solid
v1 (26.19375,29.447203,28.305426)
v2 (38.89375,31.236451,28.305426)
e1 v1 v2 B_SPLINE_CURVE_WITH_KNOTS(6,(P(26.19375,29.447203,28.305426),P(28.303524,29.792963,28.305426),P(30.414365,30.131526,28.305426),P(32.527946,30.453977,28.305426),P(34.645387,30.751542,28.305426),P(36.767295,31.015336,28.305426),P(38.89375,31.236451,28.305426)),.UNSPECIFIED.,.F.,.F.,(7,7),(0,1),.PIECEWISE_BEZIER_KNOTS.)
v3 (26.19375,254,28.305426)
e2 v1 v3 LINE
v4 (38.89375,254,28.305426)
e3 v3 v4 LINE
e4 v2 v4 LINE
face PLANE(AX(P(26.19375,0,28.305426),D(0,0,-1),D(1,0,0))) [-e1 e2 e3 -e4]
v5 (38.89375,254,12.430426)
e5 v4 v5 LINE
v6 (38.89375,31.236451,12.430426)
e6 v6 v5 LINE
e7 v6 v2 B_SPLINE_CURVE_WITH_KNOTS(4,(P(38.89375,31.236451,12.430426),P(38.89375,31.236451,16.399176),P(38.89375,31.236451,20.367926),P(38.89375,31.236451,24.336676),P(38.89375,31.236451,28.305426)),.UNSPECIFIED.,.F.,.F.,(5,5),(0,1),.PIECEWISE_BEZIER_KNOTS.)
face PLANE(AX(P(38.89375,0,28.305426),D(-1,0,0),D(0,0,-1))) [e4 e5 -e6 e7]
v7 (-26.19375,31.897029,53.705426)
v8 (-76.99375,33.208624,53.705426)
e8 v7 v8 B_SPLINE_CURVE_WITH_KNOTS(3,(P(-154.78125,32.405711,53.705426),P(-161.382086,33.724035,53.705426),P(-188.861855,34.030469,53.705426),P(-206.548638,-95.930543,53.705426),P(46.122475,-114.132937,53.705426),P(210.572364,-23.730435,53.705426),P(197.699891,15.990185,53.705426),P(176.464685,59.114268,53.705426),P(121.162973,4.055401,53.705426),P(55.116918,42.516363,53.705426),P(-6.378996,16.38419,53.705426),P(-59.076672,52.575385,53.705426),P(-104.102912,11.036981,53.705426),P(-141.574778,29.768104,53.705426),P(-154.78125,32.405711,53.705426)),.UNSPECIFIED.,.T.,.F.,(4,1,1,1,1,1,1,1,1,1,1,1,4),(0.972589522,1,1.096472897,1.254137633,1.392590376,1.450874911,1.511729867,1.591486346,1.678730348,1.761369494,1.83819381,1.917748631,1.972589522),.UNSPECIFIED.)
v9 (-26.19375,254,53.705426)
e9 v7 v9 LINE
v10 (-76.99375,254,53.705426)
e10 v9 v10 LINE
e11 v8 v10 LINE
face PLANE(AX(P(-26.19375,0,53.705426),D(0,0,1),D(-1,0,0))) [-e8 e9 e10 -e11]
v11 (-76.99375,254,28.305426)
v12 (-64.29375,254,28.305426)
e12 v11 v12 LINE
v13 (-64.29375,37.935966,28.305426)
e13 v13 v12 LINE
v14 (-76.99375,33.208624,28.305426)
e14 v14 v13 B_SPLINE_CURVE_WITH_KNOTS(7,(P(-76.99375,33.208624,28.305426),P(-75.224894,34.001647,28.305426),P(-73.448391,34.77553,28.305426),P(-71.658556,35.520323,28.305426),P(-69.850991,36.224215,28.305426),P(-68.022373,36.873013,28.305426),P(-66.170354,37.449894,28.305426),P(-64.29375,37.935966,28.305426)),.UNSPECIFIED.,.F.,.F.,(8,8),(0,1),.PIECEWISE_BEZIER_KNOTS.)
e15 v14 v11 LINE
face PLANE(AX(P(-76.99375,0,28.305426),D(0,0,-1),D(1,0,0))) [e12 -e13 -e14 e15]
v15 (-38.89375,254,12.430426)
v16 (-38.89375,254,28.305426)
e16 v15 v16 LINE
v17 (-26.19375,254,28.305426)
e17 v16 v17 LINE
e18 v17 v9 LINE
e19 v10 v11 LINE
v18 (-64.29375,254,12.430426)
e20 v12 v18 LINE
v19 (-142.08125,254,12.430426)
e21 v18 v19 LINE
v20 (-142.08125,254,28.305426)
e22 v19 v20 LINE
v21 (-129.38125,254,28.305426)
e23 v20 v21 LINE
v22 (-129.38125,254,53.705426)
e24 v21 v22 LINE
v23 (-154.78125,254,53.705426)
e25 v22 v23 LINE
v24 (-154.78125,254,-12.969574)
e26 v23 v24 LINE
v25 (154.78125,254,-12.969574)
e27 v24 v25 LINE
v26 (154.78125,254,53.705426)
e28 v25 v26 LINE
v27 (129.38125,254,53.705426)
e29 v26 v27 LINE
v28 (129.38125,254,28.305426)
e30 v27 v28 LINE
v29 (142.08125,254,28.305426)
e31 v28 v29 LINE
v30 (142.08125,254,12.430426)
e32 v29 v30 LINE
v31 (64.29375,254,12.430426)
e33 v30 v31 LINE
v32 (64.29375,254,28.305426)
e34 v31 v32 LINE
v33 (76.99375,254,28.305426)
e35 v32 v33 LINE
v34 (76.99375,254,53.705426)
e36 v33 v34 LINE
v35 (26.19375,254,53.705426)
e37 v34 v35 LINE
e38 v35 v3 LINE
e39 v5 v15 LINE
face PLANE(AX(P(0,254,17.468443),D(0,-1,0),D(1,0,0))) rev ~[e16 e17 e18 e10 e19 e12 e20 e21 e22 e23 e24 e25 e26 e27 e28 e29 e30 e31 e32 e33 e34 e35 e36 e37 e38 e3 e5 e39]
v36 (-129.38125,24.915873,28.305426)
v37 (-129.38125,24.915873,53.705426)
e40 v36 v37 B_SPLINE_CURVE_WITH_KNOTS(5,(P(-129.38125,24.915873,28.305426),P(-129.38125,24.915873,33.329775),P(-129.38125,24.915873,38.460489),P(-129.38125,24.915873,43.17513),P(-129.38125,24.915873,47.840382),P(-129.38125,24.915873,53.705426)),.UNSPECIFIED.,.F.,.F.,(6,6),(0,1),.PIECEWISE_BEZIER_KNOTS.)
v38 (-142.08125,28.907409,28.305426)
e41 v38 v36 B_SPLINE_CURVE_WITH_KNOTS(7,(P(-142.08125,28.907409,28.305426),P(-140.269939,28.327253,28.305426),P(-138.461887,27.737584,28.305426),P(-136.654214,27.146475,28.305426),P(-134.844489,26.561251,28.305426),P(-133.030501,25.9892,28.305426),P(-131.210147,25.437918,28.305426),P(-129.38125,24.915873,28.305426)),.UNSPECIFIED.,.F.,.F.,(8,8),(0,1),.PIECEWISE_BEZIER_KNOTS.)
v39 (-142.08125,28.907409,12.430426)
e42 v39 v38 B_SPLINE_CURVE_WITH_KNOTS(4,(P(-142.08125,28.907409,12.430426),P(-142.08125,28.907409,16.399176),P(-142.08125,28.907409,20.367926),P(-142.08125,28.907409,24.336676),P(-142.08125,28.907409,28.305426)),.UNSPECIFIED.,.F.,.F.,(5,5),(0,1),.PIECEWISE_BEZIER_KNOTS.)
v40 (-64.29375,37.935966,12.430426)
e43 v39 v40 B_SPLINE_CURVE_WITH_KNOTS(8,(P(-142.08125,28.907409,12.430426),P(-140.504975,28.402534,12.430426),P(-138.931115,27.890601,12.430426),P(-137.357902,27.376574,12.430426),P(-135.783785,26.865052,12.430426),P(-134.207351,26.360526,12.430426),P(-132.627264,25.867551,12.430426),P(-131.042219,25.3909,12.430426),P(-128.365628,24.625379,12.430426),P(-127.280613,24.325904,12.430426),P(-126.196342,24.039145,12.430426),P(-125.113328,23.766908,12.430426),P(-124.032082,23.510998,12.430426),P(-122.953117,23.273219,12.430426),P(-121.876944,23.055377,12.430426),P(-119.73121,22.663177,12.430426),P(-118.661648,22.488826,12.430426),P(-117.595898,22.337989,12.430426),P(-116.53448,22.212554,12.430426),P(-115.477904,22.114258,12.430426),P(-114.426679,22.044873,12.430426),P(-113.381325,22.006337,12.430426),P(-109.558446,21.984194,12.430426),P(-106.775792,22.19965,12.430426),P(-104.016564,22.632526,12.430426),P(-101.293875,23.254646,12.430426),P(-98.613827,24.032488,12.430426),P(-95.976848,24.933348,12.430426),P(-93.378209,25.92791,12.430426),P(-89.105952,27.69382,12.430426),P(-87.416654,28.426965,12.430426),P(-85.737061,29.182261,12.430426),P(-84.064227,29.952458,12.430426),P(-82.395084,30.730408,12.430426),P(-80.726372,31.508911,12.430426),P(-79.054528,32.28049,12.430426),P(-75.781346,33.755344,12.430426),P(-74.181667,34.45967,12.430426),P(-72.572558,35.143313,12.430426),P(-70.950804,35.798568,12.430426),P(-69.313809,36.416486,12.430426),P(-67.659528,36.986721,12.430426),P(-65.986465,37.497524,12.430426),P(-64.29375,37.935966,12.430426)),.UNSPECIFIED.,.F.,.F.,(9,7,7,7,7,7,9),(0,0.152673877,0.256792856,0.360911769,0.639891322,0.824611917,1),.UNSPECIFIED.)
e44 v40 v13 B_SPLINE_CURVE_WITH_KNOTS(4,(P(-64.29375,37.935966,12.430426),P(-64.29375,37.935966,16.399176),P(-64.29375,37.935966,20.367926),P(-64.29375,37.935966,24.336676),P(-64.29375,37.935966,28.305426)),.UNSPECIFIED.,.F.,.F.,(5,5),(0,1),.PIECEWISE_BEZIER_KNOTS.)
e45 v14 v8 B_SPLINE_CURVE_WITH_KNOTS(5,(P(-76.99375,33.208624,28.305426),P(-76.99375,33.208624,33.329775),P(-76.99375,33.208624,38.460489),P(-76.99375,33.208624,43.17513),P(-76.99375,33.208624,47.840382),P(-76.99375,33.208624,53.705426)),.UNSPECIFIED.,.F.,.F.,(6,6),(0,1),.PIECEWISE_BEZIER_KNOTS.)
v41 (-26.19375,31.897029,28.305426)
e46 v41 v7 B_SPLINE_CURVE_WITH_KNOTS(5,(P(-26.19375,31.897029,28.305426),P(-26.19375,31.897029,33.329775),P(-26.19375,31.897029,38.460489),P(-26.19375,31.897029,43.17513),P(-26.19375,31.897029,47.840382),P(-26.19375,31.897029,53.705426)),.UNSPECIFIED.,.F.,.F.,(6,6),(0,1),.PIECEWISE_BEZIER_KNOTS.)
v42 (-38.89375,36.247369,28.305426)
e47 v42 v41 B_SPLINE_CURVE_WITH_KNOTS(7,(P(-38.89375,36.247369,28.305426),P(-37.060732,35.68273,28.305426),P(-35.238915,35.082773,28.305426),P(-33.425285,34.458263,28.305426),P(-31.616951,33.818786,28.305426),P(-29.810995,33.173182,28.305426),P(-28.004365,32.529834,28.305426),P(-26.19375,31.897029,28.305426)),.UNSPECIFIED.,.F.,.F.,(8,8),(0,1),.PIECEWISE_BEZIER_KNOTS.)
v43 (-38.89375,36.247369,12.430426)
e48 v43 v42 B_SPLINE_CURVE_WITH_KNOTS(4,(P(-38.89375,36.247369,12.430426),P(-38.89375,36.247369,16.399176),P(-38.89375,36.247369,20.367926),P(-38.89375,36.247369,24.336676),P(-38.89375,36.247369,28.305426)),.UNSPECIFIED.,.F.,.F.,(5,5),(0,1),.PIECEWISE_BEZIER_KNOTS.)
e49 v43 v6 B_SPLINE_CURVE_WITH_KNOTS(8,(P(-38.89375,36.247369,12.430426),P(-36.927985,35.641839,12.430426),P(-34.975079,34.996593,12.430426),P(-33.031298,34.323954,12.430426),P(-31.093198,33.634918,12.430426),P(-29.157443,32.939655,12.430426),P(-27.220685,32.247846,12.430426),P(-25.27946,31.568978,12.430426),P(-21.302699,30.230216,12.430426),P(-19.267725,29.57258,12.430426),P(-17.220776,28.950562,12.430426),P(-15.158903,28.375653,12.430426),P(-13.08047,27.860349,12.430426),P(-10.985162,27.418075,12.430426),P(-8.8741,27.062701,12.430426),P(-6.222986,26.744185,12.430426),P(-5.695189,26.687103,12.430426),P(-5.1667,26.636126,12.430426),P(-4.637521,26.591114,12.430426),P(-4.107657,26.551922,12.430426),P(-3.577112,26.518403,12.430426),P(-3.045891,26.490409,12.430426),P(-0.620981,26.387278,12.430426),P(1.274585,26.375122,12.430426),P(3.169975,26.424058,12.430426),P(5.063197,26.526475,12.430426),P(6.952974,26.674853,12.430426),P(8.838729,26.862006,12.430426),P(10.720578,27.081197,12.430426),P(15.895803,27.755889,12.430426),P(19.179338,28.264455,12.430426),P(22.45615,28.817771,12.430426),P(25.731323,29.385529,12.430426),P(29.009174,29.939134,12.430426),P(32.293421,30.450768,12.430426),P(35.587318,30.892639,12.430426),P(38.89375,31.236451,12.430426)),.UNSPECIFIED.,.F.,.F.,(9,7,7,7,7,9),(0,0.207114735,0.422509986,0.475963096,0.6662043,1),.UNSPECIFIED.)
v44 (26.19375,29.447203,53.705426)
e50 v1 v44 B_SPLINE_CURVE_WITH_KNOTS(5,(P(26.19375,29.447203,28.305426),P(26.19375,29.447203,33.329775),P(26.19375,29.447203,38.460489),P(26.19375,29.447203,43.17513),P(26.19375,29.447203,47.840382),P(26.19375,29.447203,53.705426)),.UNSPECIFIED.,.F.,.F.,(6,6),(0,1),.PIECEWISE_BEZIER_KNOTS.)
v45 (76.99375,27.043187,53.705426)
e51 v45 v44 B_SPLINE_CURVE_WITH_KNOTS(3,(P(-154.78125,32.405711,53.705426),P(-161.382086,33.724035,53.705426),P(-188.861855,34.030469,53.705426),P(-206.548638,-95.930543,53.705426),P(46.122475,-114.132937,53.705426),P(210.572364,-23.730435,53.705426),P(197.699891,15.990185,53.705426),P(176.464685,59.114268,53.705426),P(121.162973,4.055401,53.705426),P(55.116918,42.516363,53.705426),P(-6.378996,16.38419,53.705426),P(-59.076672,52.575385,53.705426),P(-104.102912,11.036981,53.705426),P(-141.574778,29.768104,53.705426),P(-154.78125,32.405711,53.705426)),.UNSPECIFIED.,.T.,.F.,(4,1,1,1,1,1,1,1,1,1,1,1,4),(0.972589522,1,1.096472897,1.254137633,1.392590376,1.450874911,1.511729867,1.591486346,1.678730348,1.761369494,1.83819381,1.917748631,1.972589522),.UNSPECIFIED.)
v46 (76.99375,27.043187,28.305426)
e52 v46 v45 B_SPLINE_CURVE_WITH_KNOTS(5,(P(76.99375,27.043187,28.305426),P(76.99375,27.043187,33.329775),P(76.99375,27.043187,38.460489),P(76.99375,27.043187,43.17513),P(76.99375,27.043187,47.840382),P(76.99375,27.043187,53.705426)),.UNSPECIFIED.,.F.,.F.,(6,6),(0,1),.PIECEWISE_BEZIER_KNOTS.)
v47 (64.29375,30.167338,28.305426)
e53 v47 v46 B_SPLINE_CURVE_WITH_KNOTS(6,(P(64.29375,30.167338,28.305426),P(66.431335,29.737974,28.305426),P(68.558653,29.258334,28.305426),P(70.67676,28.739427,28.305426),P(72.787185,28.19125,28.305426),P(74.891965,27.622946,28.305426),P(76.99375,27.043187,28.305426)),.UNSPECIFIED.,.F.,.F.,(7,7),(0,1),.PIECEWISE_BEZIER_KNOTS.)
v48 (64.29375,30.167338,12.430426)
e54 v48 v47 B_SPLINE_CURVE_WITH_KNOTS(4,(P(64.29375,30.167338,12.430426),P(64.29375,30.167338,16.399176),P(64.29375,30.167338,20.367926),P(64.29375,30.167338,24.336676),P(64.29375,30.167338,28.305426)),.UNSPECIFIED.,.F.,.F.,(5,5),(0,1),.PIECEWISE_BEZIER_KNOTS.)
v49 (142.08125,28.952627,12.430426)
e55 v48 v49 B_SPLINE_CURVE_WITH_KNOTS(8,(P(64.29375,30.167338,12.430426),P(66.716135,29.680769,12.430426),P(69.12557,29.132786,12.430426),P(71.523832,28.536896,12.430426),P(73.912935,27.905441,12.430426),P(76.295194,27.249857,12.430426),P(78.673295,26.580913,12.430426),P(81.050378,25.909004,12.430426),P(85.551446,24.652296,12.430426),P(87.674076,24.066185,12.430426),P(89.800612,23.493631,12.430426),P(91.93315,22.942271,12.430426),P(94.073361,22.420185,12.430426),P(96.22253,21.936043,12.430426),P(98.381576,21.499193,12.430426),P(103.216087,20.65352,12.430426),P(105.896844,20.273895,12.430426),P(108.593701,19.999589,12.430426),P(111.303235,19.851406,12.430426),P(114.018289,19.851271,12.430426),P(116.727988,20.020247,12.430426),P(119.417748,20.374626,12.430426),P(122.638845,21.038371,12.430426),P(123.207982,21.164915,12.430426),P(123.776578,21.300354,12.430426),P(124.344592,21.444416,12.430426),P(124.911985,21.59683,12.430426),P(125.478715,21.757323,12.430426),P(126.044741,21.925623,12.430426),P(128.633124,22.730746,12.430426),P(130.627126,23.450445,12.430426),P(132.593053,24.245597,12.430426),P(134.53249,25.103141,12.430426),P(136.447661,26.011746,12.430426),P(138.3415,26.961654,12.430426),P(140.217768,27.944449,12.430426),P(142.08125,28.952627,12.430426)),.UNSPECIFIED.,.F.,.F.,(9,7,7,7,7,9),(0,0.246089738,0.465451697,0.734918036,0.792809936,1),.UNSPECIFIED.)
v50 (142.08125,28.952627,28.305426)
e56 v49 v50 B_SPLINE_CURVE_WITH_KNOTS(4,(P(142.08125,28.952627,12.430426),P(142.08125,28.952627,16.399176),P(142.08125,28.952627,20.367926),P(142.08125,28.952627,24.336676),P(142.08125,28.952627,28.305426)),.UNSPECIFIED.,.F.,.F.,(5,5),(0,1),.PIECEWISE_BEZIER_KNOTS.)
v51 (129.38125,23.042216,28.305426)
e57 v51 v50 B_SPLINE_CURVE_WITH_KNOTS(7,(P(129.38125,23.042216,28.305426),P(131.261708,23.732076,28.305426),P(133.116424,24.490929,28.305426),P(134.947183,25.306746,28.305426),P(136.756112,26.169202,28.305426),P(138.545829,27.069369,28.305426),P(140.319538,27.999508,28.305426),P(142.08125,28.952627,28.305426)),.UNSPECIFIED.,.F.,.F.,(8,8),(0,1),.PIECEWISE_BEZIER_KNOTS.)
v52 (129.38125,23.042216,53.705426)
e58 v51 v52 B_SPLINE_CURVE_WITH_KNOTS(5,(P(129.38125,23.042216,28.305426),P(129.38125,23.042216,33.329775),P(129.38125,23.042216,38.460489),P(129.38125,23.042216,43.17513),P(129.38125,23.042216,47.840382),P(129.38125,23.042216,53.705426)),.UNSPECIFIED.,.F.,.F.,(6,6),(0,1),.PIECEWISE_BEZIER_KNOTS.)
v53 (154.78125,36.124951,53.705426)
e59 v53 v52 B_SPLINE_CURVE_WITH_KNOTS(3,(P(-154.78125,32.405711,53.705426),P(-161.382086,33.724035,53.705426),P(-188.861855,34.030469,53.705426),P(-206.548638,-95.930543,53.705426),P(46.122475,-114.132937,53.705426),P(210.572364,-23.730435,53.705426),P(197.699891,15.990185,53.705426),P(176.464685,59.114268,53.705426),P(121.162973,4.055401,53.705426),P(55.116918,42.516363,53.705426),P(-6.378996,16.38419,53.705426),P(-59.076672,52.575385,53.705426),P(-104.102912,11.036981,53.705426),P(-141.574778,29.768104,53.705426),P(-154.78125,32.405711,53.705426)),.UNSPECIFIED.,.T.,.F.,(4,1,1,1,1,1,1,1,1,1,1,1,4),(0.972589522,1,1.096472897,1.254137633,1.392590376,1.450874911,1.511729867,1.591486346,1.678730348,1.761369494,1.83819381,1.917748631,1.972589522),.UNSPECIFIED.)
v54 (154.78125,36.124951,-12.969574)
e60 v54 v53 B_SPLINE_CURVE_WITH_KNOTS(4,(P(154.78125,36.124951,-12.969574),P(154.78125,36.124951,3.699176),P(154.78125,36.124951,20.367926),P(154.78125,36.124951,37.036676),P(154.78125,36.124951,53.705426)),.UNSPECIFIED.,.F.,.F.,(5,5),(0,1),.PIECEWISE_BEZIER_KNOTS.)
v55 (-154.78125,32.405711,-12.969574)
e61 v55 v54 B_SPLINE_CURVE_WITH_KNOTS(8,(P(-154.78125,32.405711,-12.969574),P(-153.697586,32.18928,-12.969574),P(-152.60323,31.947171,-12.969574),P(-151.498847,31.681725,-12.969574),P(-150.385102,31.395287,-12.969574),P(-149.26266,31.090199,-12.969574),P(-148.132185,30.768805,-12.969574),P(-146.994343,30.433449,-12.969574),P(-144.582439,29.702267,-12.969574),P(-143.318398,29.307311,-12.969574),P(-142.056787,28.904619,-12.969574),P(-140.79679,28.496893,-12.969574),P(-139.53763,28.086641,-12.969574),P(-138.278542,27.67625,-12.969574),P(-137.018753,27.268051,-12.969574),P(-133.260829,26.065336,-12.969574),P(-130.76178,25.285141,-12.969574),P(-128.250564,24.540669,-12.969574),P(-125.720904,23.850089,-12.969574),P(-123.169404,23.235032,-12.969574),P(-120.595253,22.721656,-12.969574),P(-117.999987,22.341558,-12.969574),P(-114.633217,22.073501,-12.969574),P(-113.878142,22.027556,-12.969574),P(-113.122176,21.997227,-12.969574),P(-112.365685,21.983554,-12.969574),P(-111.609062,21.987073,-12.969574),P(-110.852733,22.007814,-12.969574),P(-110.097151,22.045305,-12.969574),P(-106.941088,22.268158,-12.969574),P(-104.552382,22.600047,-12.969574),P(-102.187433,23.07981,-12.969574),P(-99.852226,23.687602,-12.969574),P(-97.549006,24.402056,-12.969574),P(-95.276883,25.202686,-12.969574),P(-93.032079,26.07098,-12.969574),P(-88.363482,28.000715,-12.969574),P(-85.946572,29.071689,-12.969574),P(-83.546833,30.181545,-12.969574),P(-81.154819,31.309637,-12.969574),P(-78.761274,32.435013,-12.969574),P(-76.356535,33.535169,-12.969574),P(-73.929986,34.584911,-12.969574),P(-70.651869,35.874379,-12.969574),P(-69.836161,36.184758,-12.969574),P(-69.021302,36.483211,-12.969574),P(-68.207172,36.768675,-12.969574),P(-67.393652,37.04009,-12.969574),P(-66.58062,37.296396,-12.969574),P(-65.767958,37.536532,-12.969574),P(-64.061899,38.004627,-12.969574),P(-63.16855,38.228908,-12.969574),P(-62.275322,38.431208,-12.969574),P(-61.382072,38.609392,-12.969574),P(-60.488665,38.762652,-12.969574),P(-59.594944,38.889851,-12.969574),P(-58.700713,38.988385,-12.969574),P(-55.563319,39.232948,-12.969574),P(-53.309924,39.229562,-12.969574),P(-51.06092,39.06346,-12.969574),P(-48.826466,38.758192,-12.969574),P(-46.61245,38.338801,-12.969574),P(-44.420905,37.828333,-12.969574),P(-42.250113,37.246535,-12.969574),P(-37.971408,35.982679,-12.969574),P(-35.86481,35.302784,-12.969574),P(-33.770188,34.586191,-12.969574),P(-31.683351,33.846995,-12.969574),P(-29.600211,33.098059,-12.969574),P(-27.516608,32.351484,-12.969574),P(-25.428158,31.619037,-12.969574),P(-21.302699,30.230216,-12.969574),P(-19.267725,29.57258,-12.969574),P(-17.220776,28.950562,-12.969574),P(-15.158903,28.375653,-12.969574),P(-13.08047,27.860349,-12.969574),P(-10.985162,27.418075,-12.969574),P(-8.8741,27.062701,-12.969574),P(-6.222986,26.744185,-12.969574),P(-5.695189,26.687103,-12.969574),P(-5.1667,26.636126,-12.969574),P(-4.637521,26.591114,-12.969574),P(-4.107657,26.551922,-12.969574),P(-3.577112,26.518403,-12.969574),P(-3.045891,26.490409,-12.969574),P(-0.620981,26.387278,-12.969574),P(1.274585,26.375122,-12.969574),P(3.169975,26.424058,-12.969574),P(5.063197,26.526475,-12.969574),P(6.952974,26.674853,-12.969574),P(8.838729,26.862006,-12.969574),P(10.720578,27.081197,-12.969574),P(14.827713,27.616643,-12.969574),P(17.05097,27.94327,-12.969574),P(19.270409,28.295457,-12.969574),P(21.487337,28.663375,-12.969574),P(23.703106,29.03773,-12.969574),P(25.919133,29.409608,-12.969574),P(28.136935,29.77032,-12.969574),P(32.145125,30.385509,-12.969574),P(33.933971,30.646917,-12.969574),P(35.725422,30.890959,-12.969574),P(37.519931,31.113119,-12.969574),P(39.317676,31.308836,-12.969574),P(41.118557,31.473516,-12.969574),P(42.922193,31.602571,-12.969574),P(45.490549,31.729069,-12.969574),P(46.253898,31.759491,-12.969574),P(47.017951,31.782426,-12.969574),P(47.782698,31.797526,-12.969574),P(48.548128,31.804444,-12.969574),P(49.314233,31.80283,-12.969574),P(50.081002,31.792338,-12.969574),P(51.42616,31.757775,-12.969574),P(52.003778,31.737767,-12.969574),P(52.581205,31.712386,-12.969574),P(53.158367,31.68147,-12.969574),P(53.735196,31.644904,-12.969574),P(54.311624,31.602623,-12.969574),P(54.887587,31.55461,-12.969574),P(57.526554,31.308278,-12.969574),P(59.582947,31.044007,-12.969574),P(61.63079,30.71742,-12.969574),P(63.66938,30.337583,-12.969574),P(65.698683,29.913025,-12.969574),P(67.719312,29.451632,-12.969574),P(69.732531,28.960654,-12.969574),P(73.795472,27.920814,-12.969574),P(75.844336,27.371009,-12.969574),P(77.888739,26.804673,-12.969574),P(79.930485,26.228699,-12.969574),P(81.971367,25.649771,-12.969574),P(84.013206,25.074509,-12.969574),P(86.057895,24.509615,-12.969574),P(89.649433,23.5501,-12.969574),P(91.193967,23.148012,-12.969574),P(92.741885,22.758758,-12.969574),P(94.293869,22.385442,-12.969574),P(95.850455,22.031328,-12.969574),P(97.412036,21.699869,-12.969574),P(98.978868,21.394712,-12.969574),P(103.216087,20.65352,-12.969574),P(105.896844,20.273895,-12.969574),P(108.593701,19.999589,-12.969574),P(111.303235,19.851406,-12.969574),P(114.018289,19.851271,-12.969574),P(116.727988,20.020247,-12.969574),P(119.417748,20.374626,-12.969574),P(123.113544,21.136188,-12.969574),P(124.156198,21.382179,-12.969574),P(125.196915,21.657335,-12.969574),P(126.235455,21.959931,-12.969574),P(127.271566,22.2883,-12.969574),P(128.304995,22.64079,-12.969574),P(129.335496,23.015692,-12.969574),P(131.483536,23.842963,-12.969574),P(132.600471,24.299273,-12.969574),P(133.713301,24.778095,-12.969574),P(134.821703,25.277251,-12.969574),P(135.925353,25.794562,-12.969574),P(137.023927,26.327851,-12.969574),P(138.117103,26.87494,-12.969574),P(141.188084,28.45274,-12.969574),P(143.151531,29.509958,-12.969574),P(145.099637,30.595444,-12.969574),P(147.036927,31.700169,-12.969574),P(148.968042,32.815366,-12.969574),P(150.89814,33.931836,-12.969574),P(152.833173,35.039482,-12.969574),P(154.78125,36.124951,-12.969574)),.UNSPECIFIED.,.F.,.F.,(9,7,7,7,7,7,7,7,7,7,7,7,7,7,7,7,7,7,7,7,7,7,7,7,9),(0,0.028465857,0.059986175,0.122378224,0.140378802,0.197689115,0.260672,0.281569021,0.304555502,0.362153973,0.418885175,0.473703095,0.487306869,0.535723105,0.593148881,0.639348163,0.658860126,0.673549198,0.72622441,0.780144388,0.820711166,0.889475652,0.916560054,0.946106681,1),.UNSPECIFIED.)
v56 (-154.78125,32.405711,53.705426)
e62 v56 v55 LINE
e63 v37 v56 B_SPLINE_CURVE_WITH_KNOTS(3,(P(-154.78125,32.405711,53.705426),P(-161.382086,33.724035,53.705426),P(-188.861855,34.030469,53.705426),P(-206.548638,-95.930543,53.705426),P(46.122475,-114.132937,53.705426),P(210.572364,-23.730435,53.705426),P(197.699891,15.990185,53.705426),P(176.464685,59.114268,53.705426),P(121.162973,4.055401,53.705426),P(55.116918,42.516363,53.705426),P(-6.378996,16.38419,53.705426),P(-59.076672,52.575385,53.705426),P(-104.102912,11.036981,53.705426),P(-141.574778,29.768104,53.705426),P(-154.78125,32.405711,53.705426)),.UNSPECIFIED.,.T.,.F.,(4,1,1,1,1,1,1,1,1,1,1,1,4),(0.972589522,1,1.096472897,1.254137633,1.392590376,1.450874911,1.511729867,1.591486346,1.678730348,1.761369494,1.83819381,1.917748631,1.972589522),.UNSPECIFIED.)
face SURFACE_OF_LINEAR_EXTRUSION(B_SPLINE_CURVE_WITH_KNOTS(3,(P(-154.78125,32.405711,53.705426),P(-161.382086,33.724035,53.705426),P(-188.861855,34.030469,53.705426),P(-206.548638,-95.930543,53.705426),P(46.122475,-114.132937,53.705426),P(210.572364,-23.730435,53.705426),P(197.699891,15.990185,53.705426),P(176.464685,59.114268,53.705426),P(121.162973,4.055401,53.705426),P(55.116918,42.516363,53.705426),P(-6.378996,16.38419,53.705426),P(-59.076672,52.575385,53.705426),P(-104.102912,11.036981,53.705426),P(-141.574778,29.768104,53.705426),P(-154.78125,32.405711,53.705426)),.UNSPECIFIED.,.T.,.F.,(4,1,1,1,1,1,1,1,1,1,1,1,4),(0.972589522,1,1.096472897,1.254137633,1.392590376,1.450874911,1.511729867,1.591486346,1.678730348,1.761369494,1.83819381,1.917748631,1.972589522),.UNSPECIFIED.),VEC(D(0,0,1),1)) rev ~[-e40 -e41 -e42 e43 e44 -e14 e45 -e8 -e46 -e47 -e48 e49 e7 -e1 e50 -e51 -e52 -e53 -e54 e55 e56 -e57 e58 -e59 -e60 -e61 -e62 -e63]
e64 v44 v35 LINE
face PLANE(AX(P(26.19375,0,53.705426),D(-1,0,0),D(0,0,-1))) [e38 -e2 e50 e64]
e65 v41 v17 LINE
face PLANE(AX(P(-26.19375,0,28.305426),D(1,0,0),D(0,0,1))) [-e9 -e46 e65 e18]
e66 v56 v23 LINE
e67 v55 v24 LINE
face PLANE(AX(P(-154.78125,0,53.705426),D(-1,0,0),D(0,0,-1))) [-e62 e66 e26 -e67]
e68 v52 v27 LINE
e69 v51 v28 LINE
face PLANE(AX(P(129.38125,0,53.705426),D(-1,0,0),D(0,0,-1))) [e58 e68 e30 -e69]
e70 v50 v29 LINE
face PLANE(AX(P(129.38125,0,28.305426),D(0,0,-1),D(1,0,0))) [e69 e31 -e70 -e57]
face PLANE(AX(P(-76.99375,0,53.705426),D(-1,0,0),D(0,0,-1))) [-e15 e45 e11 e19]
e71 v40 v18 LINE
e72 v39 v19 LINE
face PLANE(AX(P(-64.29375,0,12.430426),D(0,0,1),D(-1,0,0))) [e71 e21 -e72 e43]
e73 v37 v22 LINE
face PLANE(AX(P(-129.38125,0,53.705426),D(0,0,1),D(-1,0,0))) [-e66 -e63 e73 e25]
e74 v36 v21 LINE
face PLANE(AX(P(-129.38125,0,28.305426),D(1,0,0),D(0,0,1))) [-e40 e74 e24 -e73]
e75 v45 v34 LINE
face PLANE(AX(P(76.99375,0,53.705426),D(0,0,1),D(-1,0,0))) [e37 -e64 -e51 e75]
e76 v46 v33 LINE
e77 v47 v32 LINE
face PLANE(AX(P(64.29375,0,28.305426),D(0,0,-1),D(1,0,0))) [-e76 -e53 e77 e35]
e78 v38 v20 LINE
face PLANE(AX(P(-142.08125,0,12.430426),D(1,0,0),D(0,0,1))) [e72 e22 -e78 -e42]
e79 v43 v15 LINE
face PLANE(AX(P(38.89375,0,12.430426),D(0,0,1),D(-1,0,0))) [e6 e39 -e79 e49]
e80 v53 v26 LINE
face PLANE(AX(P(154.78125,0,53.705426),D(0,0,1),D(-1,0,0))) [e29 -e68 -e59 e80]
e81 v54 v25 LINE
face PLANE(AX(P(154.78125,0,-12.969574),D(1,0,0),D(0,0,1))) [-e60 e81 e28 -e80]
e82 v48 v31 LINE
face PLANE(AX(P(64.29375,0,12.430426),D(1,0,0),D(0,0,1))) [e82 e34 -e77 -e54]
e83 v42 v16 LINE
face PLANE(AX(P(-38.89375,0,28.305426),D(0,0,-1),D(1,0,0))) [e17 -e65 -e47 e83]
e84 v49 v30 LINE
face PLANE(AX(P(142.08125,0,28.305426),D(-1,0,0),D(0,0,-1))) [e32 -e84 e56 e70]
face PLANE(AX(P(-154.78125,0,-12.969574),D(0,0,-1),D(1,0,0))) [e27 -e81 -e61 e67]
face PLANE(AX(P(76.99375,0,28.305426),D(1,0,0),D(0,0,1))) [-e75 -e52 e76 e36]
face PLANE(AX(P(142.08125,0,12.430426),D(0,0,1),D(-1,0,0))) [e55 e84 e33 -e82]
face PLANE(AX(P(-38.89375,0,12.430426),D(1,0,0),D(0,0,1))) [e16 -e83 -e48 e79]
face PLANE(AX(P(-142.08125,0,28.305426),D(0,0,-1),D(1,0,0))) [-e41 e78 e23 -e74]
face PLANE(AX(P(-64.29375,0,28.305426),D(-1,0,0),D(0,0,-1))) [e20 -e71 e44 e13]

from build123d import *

# Parameters (mm, degrees)
F1_DEPTH = 254
F3_DEPTH = 66.676


with BuildPart() as f1:
    # F0 (on Front) → F1 (new body)
    with BuildSketch(Plane.XZ):
        Polygon((-26.19375, 53.70542624), (-76.99375, 53.70542624), (-76.99375, 28.30542624), (-64.29375, 28.30542624), (-64.29375, 12.43042624), (-142.08125, 12.43042624), (-142.08125, 28.30542624), (-129.38125, 28.30542624), (-129.38125, 53.70542624), (-154.78125, 53.70542624), (-154.78125, -12.96957376), (154.78125, -12.96957376), (154.78125, 53.70542624), (129.38125, 53.70542624), (129.38125, 28.30542624), (142.08125, 28.30542624), (142.08125, 12.43042624), (64.29375, 12.43042624), (64.29375, 28.30542624), (76.99375, 28.30542624), (76.99375, 53.70542624), (26.19375, 53.70542624), (26.19375, 28.30542624), (38.89375, 28.30542624), (38.89375, 12.43042624), (-38.89375, 12.43042624), (-38.89375, 28.30542624), (-26.19375, 28.30542624), align=None)
    extrude(amount=-F1_DEPTH)

    # F2 (on face) → F3 (cut, through all)
    with BuildSketch(Plane.XY.offset(53.70542624)):
        with BuildLine():
            add(Edge.make_bspline(
                [(-154.78125, 32.4057105541), (-161.3820856153, 33.7240346902), (-167.4622688116, 33.7918364426), (-172.5781410933, 31.0451351106)],
                knots=[0.9725895217, 0.9725895217, 0.9725895217, 0.9725895217, 1, 1, 1, 1], degree=3))
            add(Edge.make_bspline(
                [(-172.5781410933, 31.0451351106), (-190.5837742788, 21.3779475948), (-206.548638448, -95.9305426075), (46.1224753389, -114.1329365661), (210.5723641603, -23.7304349242), (197.6998905874, 15.9901854584), (176.4646847288, 59.1142675947), (121.1629727518, 4.0554010168), (55.1169182274, 42.5163631419), (-6.3789956434, 16.3841903104), (-59.0766721453, 52.5753852836), (-97.0494233849, 17.5440899141), (-123.6584021709, 23.2823267626), (-129.38125, 24.9158726552)],
                knots=[0, 0, 0, 0, 0.0964728966, 0.2541376325, 0.3925903757, 0.4508749111, 0.5117298667, 0.5914863461, 0.6787303481, 0.7613694942, 0.8381938102, 0.9177486309, 0.9395013052, 0.9395013052, 0.9395013052, 0.9395013052], degree=3))
            Line((-129.38125, 24.9158726552), (-129.38125, 0))
            Line((-129.38125, 0), (-154.78125, 0))
            Line((-154.78125, 0), (-154.78125, 32.4057105541))
        make_face()
        with BuildLine():
            Line((-129.38125, 0), (-129.38125, 24.9158726552))
            add(Edge.make_bspline(
                [(-129.38125, 24.9158726552), (-138.0863326676, 27.4006761064), (-146.8131337318, 30.814312039), (-154.78125, 32.4057105541)],
                knots=[0.9395013052, 0.9395013052, 0.9395013052, 0.9395013052, 0.9725895217, 0.9725895217, 0.9725895217, 0.9725895217], degree=3))
            Line((-154.78125, 32.4057105541), (-154.78125, 0))
            Line((-154.78125, 0), (-129.38125, 0))
        make_face()
    extrude(amount=-F3_DEPTH, mode=Mode.SUBTRACT)


solid = f1.part
